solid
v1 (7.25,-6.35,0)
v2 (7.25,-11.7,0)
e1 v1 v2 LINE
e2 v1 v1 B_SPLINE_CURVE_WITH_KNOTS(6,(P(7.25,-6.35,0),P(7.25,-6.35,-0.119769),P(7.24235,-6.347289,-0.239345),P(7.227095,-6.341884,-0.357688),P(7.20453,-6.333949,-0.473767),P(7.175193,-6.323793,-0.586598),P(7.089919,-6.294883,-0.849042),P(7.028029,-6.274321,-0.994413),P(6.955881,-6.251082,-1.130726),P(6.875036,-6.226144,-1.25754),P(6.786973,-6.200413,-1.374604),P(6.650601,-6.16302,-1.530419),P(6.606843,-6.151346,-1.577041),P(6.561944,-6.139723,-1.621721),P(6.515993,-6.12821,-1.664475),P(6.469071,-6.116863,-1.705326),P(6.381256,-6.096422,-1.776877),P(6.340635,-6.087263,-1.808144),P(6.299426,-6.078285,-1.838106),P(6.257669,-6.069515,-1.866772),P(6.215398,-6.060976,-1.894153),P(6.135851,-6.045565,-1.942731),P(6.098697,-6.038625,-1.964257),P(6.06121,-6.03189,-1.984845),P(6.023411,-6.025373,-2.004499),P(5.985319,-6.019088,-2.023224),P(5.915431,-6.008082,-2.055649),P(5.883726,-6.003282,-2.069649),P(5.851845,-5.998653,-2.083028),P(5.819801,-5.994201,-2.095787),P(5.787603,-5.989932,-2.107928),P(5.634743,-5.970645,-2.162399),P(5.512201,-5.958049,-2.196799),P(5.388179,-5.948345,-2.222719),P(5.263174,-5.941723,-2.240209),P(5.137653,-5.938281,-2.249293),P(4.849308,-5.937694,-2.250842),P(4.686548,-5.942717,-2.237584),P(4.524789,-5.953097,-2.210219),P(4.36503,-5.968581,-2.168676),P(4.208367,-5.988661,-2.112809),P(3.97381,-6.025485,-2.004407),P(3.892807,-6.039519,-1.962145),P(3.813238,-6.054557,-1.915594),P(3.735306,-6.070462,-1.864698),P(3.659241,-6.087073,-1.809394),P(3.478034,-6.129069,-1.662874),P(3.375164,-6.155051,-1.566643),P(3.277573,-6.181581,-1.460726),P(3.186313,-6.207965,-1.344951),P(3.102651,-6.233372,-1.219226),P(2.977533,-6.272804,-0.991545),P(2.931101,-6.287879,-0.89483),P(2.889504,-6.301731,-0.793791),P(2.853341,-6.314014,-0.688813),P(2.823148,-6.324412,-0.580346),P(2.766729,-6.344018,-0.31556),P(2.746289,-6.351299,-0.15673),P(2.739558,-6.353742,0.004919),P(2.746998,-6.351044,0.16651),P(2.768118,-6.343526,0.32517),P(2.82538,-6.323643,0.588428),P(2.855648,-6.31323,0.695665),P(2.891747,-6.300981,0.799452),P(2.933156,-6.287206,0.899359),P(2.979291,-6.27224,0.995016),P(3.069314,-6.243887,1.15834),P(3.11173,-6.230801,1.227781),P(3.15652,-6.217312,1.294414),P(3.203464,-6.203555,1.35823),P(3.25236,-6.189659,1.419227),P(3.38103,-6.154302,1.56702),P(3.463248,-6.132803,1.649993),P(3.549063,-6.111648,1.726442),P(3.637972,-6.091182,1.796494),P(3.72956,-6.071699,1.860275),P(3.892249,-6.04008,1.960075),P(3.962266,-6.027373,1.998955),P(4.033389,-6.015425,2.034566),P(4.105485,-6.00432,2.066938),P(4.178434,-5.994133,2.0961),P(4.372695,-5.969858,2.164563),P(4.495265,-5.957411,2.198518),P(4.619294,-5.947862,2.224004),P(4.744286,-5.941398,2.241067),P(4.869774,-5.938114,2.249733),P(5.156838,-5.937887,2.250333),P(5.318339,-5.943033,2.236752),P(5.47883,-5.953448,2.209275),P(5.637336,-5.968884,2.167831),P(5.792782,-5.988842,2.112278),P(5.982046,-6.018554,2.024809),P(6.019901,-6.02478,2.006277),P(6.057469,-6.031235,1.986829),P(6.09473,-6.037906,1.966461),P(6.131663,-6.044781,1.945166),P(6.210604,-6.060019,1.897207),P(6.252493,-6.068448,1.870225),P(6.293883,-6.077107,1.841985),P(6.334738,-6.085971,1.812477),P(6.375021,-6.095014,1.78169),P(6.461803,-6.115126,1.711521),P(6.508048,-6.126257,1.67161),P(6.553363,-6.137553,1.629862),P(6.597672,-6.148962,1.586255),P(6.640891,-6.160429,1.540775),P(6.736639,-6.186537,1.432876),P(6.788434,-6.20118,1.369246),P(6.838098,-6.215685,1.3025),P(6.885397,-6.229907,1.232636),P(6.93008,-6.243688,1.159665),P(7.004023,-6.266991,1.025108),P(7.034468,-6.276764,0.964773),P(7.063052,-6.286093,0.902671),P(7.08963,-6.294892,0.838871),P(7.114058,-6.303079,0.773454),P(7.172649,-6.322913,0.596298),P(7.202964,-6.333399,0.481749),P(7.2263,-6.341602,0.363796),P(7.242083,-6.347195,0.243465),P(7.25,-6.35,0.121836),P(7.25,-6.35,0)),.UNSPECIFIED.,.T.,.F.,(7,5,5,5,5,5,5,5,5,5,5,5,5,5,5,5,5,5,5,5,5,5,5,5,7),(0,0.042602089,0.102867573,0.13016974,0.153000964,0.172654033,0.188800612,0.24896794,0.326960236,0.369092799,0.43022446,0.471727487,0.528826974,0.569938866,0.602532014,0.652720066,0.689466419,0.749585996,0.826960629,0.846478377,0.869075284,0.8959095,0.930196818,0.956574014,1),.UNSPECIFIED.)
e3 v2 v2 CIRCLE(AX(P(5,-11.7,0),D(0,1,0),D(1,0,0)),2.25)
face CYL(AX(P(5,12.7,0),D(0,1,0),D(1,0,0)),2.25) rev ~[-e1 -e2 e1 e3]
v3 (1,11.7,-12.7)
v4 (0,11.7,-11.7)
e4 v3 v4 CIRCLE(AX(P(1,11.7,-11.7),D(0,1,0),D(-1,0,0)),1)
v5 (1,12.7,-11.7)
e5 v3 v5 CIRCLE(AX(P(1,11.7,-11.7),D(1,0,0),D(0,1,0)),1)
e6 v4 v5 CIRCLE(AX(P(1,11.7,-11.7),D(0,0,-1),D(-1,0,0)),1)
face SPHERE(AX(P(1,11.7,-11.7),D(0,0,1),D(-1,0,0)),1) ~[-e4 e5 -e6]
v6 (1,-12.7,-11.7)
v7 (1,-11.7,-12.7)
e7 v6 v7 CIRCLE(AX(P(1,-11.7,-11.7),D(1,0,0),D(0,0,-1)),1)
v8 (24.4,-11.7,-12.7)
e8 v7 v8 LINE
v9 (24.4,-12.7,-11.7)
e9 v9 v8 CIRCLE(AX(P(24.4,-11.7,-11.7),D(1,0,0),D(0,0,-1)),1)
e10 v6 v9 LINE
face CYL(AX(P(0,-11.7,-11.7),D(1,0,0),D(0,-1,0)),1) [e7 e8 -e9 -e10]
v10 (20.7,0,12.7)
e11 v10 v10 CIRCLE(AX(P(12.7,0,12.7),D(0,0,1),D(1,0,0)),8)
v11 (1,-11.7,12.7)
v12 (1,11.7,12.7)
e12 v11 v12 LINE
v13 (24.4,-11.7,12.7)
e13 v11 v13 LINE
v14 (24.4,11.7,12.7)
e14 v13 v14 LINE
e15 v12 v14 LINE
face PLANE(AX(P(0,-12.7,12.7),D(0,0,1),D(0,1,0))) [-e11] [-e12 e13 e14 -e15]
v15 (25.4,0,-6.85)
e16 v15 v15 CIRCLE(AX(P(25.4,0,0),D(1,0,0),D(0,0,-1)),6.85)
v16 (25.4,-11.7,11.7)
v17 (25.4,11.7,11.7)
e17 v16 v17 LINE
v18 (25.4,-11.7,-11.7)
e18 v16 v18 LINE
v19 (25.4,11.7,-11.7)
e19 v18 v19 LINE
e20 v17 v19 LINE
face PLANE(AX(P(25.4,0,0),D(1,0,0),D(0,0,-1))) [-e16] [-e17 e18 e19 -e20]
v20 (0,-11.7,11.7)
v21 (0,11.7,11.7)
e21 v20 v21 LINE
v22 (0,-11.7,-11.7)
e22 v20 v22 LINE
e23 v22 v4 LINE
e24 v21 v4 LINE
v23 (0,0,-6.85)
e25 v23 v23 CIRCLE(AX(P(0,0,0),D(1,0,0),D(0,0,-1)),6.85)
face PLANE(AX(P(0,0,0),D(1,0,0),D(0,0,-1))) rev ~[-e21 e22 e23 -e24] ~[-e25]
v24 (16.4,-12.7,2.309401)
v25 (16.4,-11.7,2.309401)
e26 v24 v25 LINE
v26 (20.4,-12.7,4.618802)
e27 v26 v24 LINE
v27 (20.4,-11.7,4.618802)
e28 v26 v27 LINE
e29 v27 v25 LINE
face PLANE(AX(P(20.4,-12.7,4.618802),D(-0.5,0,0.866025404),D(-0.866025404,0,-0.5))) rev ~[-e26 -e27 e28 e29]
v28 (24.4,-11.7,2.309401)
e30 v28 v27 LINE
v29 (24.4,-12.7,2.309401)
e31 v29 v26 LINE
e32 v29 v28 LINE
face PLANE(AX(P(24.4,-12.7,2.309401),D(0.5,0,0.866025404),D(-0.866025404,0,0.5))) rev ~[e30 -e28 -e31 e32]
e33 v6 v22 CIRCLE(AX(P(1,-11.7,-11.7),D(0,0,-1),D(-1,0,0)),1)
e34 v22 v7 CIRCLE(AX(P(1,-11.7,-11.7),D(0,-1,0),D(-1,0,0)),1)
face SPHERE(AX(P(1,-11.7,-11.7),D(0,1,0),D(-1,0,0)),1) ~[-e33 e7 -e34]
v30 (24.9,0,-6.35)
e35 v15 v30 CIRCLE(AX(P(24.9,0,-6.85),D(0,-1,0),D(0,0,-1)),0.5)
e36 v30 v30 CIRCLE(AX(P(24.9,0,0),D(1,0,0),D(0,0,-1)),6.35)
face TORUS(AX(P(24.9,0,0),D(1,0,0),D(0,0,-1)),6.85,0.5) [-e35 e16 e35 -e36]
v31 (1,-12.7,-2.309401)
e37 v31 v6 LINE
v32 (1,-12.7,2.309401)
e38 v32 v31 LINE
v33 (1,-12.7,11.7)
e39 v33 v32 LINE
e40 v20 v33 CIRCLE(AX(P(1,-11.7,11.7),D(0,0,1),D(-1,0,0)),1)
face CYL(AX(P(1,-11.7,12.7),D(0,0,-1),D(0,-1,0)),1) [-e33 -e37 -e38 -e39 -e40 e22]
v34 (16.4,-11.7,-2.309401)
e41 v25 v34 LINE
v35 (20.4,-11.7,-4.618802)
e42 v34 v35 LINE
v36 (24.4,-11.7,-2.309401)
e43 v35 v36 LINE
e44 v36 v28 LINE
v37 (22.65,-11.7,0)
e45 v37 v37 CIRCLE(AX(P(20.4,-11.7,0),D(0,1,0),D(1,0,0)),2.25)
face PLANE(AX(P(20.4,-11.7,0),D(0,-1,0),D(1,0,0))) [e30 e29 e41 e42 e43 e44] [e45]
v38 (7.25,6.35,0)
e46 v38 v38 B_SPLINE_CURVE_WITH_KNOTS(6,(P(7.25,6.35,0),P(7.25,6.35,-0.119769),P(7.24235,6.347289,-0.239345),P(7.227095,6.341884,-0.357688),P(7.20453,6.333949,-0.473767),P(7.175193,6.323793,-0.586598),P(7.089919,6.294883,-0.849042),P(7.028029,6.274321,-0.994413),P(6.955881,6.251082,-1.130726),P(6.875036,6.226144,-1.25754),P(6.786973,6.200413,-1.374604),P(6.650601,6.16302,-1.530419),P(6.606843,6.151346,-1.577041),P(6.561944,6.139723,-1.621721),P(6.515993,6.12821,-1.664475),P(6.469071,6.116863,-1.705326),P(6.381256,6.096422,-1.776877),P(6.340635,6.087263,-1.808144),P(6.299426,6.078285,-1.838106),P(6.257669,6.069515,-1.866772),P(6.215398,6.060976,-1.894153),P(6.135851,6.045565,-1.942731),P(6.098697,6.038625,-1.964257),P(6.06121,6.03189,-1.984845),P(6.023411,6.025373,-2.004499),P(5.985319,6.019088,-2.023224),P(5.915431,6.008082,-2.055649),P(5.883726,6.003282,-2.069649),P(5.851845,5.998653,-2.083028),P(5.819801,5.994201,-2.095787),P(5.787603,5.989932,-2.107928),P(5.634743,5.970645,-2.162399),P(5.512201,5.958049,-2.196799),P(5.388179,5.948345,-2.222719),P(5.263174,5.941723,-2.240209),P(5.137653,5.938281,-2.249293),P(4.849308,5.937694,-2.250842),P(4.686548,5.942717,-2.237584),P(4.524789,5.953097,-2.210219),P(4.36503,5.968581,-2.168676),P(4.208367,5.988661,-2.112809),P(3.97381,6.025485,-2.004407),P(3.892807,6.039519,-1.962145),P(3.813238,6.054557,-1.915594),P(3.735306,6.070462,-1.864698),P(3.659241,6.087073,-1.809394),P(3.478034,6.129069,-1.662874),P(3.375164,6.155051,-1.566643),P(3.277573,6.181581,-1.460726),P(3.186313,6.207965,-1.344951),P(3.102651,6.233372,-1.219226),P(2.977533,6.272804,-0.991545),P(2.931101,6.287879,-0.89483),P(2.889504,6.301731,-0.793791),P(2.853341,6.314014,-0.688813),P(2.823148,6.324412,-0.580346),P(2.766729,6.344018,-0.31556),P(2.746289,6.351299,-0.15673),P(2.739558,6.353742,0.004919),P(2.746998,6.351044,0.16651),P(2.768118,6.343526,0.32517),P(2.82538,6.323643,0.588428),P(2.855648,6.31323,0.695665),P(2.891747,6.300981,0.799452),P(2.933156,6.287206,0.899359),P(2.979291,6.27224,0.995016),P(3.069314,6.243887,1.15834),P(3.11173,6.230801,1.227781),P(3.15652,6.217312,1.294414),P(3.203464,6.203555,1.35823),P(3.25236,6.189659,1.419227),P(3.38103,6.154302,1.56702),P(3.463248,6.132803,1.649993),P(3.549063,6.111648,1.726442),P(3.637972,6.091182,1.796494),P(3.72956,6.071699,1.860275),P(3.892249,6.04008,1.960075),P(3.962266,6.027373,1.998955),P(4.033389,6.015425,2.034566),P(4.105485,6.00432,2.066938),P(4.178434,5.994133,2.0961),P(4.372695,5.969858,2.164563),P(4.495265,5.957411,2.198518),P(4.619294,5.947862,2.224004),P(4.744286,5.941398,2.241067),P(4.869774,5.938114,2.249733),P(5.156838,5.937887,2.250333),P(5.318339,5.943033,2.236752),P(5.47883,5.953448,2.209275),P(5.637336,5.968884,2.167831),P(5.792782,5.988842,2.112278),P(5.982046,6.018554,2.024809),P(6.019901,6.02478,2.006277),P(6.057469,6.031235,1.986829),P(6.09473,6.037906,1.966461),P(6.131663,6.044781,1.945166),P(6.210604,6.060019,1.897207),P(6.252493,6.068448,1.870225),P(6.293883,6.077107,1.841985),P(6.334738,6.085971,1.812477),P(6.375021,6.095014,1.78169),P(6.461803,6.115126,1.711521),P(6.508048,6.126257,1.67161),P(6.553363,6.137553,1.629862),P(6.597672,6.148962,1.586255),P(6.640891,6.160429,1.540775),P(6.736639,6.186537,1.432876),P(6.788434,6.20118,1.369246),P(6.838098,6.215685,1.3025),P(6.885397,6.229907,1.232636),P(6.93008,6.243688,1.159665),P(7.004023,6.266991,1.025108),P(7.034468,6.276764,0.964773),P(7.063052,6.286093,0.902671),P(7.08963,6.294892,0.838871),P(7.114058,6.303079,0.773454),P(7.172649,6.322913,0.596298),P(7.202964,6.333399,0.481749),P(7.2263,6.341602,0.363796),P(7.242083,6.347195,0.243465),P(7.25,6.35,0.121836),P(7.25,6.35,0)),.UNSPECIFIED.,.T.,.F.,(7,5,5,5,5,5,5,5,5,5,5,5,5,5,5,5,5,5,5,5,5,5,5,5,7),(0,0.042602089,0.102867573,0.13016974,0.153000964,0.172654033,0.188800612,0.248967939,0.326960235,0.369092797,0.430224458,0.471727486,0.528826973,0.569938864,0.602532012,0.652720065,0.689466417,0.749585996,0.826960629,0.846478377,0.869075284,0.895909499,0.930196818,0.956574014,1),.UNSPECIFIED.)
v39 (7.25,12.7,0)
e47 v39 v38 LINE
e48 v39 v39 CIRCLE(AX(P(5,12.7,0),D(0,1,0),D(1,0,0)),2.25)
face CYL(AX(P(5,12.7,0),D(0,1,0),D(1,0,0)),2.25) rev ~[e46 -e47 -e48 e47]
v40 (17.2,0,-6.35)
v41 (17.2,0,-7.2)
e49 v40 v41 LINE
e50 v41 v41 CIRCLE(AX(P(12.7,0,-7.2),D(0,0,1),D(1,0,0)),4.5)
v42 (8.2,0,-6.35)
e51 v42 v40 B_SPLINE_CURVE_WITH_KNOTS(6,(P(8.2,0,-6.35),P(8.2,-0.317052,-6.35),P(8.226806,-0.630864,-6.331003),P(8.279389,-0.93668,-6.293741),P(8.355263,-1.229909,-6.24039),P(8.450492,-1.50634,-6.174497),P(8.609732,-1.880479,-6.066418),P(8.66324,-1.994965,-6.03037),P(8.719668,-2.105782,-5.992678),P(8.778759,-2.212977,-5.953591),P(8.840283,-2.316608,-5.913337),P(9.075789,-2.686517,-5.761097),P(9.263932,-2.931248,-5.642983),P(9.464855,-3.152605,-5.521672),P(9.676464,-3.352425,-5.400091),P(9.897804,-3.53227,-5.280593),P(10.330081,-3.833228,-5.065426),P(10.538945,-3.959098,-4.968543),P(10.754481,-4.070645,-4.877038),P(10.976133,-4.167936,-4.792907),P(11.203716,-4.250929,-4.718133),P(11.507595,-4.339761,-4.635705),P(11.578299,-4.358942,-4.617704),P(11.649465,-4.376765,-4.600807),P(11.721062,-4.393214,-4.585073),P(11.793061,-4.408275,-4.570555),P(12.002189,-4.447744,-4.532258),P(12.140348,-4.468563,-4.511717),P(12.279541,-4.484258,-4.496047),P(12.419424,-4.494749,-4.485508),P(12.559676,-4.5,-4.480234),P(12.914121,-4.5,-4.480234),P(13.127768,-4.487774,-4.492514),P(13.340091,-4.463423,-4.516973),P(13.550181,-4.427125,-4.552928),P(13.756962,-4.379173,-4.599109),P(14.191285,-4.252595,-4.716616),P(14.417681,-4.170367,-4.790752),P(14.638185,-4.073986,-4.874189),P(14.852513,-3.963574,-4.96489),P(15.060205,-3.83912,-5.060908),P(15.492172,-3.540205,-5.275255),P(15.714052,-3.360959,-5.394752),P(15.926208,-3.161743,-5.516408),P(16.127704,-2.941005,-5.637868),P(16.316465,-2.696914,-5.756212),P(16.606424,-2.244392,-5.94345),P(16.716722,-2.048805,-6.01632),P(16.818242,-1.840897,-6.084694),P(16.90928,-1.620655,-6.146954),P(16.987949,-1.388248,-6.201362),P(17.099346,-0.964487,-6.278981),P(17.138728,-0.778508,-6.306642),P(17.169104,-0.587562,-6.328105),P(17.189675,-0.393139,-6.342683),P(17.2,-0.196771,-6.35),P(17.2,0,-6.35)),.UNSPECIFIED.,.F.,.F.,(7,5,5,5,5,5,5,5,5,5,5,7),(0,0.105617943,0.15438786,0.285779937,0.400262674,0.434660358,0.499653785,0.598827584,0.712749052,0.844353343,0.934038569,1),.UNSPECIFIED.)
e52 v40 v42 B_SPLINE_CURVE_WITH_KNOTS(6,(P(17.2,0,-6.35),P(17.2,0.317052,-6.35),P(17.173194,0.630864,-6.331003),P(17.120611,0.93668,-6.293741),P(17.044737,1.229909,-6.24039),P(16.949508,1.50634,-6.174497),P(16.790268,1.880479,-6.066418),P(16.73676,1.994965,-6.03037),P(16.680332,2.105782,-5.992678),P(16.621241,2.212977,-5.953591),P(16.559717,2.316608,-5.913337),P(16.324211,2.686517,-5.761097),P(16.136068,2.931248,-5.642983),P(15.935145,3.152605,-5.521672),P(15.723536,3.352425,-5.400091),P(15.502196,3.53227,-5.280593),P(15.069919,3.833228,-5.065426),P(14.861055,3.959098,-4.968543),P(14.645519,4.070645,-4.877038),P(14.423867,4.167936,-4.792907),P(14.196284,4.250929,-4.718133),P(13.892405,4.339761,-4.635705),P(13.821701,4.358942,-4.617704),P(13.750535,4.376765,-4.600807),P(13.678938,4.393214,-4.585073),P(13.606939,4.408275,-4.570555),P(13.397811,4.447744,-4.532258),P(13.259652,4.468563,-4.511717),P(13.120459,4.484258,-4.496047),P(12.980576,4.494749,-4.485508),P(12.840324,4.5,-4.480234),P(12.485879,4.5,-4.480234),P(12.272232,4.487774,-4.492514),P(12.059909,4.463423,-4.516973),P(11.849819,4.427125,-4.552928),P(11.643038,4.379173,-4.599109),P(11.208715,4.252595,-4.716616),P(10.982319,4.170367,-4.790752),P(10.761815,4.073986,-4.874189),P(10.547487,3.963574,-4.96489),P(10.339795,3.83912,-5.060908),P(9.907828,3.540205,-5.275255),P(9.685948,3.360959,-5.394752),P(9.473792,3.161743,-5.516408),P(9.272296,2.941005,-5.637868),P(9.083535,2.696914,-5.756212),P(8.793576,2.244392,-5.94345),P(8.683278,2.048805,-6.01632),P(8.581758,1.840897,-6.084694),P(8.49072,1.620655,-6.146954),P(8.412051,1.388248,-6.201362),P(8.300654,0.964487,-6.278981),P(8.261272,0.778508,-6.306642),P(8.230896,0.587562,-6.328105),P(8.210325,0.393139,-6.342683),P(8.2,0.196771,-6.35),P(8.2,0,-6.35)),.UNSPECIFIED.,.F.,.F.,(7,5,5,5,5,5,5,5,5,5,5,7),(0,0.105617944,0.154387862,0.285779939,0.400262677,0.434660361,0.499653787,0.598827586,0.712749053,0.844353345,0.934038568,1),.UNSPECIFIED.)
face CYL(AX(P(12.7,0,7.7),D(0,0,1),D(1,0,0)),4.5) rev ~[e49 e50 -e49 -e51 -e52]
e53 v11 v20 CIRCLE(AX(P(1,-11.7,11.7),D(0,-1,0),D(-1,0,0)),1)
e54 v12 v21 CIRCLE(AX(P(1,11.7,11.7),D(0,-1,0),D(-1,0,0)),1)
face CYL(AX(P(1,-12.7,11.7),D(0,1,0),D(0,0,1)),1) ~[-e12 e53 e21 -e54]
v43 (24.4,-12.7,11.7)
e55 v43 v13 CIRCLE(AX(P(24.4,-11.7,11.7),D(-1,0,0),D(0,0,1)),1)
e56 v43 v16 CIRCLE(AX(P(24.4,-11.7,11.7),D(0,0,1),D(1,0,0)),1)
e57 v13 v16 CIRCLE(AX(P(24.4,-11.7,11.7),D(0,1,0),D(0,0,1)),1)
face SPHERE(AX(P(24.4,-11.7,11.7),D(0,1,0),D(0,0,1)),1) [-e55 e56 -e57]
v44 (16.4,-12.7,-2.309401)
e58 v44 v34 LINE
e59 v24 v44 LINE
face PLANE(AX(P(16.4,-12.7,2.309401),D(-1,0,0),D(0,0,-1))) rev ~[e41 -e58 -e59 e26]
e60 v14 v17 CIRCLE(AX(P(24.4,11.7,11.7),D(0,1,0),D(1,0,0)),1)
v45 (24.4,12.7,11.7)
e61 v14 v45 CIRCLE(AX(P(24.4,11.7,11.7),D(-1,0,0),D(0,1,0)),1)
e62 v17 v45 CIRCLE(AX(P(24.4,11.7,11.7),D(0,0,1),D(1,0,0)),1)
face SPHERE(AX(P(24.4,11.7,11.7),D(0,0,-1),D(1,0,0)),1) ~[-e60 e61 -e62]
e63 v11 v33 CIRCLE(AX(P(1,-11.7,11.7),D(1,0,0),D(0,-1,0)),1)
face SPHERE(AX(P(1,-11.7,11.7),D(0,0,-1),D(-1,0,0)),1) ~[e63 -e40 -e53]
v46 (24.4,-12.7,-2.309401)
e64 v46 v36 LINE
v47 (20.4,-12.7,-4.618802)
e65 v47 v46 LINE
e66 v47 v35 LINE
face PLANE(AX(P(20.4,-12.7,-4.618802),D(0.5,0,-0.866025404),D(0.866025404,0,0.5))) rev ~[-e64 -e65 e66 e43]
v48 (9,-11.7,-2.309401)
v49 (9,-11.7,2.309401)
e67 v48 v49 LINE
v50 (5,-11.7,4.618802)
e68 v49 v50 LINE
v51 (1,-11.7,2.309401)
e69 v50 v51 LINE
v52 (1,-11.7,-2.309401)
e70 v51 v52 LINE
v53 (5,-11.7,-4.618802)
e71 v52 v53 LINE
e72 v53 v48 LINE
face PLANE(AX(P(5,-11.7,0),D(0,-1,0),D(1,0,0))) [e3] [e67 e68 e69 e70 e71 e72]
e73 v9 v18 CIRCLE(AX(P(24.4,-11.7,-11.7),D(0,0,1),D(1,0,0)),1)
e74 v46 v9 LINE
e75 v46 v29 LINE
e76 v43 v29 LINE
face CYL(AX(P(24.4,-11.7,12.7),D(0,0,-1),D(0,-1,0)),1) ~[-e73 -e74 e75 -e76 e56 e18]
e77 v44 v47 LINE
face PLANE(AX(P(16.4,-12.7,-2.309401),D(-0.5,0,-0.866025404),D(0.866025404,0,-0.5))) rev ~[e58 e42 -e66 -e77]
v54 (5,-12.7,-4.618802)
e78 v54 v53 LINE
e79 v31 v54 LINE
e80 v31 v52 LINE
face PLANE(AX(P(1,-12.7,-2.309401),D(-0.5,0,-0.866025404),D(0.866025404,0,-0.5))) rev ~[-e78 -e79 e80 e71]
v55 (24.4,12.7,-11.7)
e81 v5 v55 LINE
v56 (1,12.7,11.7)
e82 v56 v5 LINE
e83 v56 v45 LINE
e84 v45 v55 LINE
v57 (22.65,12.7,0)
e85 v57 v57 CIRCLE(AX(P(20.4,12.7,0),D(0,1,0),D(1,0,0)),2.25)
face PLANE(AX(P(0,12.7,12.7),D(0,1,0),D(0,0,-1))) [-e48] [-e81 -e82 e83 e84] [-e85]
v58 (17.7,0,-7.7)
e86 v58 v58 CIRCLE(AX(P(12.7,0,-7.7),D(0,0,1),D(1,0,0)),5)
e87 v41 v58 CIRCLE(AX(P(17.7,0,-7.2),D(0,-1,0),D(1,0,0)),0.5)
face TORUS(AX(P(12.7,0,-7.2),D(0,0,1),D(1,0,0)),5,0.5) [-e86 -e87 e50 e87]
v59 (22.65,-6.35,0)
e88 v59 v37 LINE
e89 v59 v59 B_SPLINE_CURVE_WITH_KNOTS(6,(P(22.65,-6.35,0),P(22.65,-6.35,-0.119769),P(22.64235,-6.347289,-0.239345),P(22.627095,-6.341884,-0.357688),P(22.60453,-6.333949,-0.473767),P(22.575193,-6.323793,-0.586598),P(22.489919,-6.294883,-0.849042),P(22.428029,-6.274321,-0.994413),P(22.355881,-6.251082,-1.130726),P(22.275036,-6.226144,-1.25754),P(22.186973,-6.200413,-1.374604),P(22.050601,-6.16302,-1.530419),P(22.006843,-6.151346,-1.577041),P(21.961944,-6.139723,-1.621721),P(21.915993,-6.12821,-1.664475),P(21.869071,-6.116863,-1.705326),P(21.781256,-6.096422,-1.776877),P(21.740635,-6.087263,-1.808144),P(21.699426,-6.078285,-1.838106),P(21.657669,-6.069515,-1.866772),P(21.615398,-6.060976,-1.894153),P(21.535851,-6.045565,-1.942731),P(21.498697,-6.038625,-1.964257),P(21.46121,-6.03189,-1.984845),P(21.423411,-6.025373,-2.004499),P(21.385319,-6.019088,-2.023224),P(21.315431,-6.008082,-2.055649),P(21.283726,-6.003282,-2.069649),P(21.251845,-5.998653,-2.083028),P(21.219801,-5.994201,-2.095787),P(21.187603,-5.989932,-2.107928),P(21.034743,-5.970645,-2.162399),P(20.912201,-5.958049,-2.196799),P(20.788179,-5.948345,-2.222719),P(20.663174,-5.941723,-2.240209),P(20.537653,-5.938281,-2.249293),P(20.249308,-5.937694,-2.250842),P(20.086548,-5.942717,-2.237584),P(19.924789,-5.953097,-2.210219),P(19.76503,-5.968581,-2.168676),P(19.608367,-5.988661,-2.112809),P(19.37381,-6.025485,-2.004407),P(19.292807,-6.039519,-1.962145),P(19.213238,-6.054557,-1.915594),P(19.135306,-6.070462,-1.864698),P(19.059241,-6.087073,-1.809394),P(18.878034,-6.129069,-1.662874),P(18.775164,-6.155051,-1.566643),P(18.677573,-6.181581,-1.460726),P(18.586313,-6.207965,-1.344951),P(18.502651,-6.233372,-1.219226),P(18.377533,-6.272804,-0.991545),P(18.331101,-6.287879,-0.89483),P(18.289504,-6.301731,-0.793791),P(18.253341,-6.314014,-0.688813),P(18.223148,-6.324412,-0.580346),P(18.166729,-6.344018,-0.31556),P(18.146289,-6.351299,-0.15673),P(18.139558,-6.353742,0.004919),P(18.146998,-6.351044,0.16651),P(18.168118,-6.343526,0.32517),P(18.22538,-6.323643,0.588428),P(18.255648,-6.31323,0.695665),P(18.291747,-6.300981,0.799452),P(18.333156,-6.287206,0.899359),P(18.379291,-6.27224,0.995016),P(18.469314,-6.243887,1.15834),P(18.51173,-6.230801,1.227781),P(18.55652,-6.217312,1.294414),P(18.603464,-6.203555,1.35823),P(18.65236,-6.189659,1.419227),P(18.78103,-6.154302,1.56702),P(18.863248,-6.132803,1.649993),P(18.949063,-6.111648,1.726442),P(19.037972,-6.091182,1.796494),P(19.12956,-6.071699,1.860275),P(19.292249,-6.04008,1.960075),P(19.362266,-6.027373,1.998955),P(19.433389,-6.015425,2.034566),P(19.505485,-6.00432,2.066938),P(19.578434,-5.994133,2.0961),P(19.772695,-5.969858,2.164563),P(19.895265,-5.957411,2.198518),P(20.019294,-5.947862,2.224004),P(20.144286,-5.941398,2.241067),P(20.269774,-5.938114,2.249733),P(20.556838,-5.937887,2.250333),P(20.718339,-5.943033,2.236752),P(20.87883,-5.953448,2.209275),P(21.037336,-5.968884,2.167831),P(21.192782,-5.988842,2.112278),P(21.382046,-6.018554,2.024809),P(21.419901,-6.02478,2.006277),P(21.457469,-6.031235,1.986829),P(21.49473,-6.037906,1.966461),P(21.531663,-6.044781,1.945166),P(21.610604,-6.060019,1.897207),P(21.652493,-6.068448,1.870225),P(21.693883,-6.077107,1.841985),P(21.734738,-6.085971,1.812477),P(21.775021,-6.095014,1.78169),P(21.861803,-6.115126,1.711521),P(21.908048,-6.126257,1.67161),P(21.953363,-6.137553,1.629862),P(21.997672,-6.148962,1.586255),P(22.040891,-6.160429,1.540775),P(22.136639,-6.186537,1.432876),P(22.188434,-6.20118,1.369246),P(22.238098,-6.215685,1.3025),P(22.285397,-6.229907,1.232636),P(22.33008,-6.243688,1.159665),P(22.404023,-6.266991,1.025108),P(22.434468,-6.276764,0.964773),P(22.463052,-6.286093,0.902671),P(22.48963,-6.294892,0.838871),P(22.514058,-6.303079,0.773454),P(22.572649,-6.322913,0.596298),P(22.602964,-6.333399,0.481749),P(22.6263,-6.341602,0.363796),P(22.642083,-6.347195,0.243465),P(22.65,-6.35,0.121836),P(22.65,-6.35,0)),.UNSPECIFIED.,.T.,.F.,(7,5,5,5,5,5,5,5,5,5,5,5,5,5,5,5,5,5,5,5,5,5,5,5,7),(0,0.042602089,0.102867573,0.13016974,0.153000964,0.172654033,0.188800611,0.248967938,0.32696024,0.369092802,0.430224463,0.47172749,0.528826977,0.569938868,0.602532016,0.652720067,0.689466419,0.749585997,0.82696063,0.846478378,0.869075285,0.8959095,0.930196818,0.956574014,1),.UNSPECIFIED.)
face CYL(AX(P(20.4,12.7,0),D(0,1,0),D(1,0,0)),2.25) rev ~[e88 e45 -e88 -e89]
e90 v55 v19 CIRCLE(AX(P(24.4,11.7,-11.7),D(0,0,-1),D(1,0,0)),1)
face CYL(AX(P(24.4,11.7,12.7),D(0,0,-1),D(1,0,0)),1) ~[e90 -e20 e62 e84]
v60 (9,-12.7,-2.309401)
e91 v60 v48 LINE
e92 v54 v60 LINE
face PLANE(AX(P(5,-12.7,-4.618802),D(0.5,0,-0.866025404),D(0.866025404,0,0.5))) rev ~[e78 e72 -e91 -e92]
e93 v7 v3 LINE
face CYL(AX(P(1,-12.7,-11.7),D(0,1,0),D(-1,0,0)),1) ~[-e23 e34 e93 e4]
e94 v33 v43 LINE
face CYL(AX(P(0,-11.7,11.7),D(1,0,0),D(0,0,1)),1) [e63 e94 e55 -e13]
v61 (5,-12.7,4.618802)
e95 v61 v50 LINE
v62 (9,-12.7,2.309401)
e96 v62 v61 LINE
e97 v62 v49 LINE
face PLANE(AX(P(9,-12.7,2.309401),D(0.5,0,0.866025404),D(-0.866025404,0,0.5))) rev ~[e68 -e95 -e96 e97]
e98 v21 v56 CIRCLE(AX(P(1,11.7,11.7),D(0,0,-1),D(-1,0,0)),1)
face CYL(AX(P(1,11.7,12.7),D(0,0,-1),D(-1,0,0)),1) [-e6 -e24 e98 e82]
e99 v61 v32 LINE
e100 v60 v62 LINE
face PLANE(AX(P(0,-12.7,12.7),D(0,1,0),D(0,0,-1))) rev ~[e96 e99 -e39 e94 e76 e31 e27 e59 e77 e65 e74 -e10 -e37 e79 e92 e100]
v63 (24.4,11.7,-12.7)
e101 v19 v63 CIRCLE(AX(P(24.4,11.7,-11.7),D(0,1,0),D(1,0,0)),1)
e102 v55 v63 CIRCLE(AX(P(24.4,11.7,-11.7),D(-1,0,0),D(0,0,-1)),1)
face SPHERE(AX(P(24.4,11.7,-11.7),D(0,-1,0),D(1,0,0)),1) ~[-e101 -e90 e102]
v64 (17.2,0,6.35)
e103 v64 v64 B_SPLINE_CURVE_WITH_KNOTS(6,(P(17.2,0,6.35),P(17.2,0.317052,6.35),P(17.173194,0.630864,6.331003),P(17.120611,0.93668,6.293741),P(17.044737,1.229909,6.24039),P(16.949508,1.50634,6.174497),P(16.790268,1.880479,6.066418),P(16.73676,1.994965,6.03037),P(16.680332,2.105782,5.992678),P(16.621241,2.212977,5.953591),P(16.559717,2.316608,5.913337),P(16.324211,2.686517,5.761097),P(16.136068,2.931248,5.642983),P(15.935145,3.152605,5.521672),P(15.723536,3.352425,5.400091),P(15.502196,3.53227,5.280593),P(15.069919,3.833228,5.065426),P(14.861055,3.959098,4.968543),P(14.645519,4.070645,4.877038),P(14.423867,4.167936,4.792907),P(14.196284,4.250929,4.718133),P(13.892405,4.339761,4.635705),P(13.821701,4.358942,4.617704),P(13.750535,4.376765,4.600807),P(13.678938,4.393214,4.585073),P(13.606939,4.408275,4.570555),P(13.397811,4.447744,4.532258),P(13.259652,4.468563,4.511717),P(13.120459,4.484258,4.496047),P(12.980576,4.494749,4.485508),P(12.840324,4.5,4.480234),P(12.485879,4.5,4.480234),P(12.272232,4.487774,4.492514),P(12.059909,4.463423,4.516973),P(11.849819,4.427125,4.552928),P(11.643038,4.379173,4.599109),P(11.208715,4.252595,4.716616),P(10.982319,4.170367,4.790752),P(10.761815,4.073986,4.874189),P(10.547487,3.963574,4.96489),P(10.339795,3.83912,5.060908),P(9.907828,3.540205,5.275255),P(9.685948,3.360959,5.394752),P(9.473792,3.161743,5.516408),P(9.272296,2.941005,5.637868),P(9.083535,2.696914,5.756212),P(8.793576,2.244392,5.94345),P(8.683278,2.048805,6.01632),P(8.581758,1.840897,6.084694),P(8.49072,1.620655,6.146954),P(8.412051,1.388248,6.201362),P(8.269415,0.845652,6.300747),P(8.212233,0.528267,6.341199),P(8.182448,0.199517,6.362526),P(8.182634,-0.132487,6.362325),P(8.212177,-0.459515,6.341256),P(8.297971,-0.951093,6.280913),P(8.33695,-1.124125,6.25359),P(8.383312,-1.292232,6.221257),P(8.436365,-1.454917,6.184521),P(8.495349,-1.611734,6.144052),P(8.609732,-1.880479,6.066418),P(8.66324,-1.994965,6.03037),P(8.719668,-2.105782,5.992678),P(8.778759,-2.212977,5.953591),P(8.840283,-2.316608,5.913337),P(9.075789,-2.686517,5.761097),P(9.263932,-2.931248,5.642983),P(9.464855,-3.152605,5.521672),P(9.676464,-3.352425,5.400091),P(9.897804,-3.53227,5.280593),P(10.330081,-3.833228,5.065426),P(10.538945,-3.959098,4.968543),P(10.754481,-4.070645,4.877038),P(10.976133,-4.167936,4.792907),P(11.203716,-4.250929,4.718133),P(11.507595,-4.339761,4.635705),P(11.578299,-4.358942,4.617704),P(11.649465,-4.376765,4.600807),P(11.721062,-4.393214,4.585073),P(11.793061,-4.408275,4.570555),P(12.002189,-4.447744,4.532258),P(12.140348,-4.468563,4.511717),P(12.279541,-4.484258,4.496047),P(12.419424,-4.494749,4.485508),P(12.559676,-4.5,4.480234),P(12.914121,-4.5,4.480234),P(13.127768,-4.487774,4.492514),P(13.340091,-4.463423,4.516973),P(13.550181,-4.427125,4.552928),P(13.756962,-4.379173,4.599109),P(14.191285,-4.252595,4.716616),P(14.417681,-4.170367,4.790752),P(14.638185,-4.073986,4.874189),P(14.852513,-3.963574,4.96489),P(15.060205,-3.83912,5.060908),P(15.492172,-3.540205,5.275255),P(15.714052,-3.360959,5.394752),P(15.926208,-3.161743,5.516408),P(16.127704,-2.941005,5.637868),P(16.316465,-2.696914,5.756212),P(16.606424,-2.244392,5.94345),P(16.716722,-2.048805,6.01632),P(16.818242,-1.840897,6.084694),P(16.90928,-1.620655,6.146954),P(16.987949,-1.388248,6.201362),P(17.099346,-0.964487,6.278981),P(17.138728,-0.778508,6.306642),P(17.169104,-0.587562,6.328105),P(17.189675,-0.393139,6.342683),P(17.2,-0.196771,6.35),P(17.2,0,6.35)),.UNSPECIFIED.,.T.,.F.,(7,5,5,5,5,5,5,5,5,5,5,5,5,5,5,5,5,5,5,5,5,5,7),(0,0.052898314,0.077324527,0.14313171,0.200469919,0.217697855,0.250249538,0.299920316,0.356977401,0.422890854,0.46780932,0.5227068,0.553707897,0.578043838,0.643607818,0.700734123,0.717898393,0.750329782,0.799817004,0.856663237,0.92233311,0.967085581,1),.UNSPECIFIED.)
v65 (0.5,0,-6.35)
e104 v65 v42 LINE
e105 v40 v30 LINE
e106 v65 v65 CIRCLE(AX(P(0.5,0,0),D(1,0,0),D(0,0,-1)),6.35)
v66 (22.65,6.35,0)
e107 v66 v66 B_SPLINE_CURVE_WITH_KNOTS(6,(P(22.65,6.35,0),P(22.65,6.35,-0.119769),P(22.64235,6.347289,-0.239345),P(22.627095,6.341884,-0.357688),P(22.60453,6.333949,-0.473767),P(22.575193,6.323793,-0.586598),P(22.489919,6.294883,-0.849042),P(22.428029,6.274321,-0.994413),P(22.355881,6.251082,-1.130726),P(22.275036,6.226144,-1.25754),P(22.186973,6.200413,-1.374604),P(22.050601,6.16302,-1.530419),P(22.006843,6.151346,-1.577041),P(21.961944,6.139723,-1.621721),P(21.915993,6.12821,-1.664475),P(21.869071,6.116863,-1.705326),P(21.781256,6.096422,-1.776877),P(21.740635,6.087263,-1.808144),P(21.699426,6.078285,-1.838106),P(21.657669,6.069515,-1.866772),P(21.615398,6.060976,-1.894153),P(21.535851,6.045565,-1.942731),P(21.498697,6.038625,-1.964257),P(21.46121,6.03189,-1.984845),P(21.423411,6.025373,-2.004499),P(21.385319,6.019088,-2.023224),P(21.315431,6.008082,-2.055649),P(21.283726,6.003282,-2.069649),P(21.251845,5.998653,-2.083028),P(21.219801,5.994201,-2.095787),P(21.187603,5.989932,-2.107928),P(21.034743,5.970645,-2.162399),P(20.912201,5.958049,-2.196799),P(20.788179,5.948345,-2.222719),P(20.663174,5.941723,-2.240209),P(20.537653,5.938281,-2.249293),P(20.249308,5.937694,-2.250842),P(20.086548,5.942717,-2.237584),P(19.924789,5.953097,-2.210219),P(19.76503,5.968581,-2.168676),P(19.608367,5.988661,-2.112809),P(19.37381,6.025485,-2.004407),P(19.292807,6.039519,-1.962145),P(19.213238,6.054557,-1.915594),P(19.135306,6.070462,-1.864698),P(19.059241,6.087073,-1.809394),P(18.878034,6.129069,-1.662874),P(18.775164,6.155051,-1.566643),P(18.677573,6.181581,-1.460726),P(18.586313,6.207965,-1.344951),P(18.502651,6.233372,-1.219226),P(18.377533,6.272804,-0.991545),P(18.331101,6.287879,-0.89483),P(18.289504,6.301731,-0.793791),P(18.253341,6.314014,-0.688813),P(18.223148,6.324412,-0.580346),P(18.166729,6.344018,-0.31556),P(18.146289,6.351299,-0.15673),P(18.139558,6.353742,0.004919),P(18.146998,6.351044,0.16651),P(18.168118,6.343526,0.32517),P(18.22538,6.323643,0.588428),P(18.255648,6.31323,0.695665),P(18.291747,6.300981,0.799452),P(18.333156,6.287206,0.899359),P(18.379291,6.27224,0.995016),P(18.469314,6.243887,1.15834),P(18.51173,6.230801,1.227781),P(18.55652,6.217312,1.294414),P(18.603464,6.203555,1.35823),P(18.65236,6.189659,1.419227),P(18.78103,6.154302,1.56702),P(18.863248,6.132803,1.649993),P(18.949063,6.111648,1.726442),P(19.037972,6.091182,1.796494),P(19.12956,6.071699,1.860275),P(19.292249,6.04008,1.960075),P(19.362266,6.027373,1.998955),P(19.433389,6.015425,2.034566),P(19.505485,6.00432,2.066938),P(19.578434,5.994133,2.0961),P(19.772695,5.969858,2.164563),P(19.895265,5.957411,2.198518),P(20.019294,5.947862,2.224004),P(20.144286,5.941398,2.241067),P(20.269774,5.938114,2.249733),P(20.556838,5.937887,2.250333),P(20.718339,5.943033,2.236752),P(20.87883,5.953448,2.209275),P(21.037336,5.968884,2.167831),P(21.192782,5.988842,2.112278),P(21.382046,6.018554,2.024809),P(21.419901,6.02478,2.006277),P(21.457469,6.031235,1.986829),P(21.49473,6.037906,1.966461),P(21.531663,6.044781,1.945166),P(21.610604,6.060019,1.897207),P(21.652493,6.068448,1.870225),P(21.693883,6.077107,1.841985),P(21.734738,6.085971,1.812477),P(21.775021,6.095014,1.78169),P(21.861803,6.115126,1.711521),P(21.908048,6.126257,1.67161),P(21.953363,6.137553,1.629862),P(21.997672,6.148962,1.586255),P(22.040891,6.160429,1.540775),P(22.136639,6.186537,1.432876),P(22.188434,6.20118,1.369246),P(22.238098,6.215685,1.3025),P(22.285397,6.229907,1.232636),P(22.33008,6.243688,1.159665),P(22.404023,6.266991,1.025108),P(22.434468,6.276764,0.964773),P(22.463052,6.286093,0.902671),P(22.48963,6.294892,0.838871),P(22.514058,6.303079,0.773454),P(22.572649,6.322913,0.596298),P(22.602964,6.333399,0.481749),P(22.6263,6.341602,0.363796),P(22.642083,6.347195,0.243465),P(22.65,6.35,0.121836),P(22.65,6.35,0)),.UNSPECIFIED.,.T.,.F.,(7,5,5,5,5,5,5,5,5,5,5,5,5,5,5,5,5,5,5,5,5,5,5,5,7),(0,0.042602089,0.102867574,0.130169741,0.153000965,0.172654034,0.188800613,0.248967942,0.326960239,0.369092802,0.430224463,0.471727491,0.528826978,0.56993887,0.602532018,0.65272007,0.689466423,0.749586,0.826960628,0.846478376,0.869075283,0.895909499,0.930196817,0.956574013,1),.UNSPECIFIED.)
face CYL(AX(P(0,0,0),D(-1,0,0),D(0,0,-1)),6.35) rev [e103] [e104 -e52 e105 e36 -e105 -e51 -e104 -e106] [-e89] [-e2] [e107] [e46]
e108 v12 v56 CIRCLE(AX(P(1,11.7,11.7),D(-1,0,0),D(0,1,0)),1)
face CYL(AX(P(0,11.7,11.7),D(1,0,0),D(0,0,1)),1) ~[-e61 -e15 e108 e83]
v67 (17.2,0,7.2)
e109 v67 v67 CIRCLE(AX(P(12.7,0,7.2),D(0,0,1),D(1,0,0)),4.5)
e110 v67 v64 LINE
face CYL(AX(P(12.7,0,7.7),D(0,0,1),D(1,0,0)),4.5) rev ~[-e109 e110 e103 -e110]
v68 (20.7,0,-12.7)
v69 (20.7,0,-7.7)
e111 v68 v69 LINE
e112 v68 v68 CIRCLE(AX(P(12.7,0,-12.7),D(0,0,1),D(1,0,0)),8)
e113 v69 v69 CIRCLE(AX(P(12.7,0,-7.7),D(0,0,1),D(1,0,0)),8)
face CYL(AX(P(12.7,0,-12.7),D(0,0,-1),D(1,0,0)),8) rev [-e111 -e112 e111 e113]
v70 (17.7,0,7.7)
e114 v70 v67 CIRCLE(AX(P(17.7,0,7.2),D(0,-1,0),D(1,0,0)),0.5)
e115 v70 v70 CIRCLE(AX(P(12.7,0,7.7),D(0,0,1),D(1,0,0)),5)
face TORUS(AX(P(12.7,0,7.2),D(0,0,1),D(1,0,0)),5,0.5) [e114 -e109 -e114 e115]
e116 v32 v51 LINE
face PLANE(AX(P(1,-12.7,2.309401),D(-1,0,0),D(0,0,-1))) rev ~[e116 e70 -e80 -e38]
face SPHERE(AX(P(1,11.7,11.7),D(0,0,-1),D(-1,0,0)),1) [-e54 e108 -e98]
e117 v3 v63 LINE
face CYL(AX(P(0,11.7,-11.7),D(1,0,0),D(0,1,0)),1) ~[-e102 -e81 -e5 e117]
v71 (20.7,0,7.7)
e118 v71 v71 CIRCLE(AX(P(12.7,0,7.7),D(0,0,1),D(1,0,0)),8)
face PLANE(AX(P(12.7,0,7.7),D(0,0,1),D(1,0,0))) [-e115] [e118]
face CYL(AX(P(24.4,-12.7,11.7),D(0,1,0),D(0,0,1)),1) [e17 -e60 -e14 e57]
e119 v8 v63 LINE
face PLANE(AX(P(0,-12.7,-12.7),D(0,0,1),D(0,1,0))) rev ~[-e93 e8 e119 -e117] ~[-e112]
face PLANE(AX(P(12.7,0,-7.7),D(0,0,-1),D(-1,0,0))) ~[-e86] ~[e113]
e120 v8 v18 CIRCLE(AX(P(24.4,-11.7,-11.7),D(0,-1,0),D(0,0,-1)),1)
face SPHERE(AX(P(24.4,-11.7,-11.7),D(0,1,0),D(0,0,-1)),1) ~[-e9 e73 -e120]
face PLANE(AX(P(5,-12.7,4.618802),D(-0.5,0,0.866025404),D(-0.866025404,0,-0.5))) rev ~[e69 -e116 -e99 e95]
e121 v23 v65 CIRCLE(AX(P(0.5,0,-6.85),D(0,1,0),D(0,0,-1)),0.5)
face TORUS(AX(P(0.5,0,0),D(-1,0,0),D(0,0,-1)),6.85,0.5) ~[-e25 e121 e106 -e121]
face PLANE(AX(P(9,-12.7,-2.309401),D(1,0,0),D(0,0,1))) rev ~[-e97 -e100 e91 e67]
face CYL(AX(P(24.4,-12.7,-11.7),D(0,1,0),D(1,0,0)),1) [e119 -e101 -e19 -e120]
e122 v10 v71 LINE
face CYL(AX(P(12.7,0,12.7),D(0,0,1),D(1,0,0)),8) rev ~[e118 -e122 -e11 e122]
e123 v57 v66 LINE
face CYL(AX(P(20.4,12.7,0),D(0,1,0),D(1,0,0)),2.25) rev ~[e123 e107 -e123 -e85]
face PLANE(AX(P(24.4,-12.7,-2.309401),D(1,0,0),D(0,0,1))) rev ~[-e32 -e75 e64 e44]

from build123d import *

# Parameters (mm, degrees)
SKETCH1_W           = 25.4
SKETCH1_H           = 25.4
SKETCH1_R           = 6.35
BOSS_EXTRUDE1_DEPTH = 25.4
SKETCH2_R           = 8
CUT_EXTRUDE2_DEPTH  = 5
SKETCH3_R           = 4.5
CUT_EXTRUDE3_DEPTH  = 44
FILLET1_R           = 1
FILLET2_R           = 0.5
SKETCH4_R           = 2.25
CUT_EXTRUDE4_DEPTH  = 44
CUT_EXTRUDE5_DEPTH  = 1


with BuildPart() as part:
    # Sketch1 → Boss-Extrude1 (new body)
    with BuildSketch(Plane(origin=(0, 0, 0), x_dir=(0, 0, -1), z_dir=(1, 0, 0))):
        Rectangle(SKETCH1_W, SKETCH1_H)
        Circle(SKETCH1_R, mode=Mode.SUBTRACT)
    extrude(amount=BOSS_EXTRUDE1_DEPTH)

    # Sketch2 → Cut-Extrude2 (cut)
    with BuildSketch(Plane.XY.offset(12.7)):
        with Locations((12.7, 0)):
            Circle(SKETCH2_R)
    cut_extrude2 = extrude(amount=-CUT_EXTRUDE2_DEPTH, mode=Mode.SUBTRACT)

    # Mirror1: Cut-Extrude2 across plane
    add(cut_extrude2.mirror(Plane.XY), mode=Mode.SUBTRACT)

    # Sketch3 → Cut-Extrude3 (cut)
    with BuildSketch(Plane.XY.offset(7.7)):
        with Locations((12.7, 0)):
            Circle(SKETCH3_R)
    extrude(amount=-CUT_EXTRUDE3_DEPTH, mode=Mode.SUBTRACT)

    # Fillet1
    fillet1_edges = [part.edges().sort_by_distance(p)[0] for p in [
        (25.4, 0, -12.7),
        (25.4, 12.7, 0),
        (25.4, 0, 12.7),
        (0, 12.7, 0),
        (0, 0, -12.7),
        (0, -12.7, 0),
        (0, 0, 12.7),
        (12.7, 12.7, 12.7),
        (12.7, 12.7, -12.7),
        (12.7, -12.7, -12.7),
        (12.7, -12.7, 12.7),
        (25.4, -12.7, 0),
    ]]
    fillet(fillet1_edges, radius=FILLET1_R)

    # Fillet2
    fillet2_edges = [part.edges().sort_by_distance(p)[0] for p in [
        (0, 0, 6.35),
        (25.4, 0, 6.35),
        (8.2, 0, -7.7),
        (8.2, 0, 7.7),
    ]]
    fillet(fillet2_edges, radius=FILLET2_R)

    # Sketch4 → Cut-Extrude4 (cut)
    with BuildSketch(Plane(origin=(0, 12.7, 0), x_dir=(1, 0, 0), z_dir=(0, 1, 0))):
        with Locations((5, 0)):
            Circle(SKETCH4_R)
        with Locations((20.4, 0)):
            Circle(SKETCH4_R)
    extrude(amount=-CUT_EXTRUDE4_DEPTH, mode=Mode.SUBTRACT)

    # Sketch5 → Cut-Extrude5 (cut)
    with BuildSketch(Plane.XZ.offset(12.7)):
        Polygon((9, 2.309401077), (5, 4.618802154), (1, 2.309401077), (1, -2.309401077), (5, -4.618802154), (9, -2.309401077), align=None)
        Polygon((20.4, 4.618802154), (16.4, 2.309401077), (16.4, -2.309401077), (20.4, -4.618802154), (24.4, -2.309401077), (24.4, 2.309401077), align=None)
    extrude(amount=-CUT_EXTRUDE5_DEPTH, mode=Mode.SUBTRACT)


solid = part.part
